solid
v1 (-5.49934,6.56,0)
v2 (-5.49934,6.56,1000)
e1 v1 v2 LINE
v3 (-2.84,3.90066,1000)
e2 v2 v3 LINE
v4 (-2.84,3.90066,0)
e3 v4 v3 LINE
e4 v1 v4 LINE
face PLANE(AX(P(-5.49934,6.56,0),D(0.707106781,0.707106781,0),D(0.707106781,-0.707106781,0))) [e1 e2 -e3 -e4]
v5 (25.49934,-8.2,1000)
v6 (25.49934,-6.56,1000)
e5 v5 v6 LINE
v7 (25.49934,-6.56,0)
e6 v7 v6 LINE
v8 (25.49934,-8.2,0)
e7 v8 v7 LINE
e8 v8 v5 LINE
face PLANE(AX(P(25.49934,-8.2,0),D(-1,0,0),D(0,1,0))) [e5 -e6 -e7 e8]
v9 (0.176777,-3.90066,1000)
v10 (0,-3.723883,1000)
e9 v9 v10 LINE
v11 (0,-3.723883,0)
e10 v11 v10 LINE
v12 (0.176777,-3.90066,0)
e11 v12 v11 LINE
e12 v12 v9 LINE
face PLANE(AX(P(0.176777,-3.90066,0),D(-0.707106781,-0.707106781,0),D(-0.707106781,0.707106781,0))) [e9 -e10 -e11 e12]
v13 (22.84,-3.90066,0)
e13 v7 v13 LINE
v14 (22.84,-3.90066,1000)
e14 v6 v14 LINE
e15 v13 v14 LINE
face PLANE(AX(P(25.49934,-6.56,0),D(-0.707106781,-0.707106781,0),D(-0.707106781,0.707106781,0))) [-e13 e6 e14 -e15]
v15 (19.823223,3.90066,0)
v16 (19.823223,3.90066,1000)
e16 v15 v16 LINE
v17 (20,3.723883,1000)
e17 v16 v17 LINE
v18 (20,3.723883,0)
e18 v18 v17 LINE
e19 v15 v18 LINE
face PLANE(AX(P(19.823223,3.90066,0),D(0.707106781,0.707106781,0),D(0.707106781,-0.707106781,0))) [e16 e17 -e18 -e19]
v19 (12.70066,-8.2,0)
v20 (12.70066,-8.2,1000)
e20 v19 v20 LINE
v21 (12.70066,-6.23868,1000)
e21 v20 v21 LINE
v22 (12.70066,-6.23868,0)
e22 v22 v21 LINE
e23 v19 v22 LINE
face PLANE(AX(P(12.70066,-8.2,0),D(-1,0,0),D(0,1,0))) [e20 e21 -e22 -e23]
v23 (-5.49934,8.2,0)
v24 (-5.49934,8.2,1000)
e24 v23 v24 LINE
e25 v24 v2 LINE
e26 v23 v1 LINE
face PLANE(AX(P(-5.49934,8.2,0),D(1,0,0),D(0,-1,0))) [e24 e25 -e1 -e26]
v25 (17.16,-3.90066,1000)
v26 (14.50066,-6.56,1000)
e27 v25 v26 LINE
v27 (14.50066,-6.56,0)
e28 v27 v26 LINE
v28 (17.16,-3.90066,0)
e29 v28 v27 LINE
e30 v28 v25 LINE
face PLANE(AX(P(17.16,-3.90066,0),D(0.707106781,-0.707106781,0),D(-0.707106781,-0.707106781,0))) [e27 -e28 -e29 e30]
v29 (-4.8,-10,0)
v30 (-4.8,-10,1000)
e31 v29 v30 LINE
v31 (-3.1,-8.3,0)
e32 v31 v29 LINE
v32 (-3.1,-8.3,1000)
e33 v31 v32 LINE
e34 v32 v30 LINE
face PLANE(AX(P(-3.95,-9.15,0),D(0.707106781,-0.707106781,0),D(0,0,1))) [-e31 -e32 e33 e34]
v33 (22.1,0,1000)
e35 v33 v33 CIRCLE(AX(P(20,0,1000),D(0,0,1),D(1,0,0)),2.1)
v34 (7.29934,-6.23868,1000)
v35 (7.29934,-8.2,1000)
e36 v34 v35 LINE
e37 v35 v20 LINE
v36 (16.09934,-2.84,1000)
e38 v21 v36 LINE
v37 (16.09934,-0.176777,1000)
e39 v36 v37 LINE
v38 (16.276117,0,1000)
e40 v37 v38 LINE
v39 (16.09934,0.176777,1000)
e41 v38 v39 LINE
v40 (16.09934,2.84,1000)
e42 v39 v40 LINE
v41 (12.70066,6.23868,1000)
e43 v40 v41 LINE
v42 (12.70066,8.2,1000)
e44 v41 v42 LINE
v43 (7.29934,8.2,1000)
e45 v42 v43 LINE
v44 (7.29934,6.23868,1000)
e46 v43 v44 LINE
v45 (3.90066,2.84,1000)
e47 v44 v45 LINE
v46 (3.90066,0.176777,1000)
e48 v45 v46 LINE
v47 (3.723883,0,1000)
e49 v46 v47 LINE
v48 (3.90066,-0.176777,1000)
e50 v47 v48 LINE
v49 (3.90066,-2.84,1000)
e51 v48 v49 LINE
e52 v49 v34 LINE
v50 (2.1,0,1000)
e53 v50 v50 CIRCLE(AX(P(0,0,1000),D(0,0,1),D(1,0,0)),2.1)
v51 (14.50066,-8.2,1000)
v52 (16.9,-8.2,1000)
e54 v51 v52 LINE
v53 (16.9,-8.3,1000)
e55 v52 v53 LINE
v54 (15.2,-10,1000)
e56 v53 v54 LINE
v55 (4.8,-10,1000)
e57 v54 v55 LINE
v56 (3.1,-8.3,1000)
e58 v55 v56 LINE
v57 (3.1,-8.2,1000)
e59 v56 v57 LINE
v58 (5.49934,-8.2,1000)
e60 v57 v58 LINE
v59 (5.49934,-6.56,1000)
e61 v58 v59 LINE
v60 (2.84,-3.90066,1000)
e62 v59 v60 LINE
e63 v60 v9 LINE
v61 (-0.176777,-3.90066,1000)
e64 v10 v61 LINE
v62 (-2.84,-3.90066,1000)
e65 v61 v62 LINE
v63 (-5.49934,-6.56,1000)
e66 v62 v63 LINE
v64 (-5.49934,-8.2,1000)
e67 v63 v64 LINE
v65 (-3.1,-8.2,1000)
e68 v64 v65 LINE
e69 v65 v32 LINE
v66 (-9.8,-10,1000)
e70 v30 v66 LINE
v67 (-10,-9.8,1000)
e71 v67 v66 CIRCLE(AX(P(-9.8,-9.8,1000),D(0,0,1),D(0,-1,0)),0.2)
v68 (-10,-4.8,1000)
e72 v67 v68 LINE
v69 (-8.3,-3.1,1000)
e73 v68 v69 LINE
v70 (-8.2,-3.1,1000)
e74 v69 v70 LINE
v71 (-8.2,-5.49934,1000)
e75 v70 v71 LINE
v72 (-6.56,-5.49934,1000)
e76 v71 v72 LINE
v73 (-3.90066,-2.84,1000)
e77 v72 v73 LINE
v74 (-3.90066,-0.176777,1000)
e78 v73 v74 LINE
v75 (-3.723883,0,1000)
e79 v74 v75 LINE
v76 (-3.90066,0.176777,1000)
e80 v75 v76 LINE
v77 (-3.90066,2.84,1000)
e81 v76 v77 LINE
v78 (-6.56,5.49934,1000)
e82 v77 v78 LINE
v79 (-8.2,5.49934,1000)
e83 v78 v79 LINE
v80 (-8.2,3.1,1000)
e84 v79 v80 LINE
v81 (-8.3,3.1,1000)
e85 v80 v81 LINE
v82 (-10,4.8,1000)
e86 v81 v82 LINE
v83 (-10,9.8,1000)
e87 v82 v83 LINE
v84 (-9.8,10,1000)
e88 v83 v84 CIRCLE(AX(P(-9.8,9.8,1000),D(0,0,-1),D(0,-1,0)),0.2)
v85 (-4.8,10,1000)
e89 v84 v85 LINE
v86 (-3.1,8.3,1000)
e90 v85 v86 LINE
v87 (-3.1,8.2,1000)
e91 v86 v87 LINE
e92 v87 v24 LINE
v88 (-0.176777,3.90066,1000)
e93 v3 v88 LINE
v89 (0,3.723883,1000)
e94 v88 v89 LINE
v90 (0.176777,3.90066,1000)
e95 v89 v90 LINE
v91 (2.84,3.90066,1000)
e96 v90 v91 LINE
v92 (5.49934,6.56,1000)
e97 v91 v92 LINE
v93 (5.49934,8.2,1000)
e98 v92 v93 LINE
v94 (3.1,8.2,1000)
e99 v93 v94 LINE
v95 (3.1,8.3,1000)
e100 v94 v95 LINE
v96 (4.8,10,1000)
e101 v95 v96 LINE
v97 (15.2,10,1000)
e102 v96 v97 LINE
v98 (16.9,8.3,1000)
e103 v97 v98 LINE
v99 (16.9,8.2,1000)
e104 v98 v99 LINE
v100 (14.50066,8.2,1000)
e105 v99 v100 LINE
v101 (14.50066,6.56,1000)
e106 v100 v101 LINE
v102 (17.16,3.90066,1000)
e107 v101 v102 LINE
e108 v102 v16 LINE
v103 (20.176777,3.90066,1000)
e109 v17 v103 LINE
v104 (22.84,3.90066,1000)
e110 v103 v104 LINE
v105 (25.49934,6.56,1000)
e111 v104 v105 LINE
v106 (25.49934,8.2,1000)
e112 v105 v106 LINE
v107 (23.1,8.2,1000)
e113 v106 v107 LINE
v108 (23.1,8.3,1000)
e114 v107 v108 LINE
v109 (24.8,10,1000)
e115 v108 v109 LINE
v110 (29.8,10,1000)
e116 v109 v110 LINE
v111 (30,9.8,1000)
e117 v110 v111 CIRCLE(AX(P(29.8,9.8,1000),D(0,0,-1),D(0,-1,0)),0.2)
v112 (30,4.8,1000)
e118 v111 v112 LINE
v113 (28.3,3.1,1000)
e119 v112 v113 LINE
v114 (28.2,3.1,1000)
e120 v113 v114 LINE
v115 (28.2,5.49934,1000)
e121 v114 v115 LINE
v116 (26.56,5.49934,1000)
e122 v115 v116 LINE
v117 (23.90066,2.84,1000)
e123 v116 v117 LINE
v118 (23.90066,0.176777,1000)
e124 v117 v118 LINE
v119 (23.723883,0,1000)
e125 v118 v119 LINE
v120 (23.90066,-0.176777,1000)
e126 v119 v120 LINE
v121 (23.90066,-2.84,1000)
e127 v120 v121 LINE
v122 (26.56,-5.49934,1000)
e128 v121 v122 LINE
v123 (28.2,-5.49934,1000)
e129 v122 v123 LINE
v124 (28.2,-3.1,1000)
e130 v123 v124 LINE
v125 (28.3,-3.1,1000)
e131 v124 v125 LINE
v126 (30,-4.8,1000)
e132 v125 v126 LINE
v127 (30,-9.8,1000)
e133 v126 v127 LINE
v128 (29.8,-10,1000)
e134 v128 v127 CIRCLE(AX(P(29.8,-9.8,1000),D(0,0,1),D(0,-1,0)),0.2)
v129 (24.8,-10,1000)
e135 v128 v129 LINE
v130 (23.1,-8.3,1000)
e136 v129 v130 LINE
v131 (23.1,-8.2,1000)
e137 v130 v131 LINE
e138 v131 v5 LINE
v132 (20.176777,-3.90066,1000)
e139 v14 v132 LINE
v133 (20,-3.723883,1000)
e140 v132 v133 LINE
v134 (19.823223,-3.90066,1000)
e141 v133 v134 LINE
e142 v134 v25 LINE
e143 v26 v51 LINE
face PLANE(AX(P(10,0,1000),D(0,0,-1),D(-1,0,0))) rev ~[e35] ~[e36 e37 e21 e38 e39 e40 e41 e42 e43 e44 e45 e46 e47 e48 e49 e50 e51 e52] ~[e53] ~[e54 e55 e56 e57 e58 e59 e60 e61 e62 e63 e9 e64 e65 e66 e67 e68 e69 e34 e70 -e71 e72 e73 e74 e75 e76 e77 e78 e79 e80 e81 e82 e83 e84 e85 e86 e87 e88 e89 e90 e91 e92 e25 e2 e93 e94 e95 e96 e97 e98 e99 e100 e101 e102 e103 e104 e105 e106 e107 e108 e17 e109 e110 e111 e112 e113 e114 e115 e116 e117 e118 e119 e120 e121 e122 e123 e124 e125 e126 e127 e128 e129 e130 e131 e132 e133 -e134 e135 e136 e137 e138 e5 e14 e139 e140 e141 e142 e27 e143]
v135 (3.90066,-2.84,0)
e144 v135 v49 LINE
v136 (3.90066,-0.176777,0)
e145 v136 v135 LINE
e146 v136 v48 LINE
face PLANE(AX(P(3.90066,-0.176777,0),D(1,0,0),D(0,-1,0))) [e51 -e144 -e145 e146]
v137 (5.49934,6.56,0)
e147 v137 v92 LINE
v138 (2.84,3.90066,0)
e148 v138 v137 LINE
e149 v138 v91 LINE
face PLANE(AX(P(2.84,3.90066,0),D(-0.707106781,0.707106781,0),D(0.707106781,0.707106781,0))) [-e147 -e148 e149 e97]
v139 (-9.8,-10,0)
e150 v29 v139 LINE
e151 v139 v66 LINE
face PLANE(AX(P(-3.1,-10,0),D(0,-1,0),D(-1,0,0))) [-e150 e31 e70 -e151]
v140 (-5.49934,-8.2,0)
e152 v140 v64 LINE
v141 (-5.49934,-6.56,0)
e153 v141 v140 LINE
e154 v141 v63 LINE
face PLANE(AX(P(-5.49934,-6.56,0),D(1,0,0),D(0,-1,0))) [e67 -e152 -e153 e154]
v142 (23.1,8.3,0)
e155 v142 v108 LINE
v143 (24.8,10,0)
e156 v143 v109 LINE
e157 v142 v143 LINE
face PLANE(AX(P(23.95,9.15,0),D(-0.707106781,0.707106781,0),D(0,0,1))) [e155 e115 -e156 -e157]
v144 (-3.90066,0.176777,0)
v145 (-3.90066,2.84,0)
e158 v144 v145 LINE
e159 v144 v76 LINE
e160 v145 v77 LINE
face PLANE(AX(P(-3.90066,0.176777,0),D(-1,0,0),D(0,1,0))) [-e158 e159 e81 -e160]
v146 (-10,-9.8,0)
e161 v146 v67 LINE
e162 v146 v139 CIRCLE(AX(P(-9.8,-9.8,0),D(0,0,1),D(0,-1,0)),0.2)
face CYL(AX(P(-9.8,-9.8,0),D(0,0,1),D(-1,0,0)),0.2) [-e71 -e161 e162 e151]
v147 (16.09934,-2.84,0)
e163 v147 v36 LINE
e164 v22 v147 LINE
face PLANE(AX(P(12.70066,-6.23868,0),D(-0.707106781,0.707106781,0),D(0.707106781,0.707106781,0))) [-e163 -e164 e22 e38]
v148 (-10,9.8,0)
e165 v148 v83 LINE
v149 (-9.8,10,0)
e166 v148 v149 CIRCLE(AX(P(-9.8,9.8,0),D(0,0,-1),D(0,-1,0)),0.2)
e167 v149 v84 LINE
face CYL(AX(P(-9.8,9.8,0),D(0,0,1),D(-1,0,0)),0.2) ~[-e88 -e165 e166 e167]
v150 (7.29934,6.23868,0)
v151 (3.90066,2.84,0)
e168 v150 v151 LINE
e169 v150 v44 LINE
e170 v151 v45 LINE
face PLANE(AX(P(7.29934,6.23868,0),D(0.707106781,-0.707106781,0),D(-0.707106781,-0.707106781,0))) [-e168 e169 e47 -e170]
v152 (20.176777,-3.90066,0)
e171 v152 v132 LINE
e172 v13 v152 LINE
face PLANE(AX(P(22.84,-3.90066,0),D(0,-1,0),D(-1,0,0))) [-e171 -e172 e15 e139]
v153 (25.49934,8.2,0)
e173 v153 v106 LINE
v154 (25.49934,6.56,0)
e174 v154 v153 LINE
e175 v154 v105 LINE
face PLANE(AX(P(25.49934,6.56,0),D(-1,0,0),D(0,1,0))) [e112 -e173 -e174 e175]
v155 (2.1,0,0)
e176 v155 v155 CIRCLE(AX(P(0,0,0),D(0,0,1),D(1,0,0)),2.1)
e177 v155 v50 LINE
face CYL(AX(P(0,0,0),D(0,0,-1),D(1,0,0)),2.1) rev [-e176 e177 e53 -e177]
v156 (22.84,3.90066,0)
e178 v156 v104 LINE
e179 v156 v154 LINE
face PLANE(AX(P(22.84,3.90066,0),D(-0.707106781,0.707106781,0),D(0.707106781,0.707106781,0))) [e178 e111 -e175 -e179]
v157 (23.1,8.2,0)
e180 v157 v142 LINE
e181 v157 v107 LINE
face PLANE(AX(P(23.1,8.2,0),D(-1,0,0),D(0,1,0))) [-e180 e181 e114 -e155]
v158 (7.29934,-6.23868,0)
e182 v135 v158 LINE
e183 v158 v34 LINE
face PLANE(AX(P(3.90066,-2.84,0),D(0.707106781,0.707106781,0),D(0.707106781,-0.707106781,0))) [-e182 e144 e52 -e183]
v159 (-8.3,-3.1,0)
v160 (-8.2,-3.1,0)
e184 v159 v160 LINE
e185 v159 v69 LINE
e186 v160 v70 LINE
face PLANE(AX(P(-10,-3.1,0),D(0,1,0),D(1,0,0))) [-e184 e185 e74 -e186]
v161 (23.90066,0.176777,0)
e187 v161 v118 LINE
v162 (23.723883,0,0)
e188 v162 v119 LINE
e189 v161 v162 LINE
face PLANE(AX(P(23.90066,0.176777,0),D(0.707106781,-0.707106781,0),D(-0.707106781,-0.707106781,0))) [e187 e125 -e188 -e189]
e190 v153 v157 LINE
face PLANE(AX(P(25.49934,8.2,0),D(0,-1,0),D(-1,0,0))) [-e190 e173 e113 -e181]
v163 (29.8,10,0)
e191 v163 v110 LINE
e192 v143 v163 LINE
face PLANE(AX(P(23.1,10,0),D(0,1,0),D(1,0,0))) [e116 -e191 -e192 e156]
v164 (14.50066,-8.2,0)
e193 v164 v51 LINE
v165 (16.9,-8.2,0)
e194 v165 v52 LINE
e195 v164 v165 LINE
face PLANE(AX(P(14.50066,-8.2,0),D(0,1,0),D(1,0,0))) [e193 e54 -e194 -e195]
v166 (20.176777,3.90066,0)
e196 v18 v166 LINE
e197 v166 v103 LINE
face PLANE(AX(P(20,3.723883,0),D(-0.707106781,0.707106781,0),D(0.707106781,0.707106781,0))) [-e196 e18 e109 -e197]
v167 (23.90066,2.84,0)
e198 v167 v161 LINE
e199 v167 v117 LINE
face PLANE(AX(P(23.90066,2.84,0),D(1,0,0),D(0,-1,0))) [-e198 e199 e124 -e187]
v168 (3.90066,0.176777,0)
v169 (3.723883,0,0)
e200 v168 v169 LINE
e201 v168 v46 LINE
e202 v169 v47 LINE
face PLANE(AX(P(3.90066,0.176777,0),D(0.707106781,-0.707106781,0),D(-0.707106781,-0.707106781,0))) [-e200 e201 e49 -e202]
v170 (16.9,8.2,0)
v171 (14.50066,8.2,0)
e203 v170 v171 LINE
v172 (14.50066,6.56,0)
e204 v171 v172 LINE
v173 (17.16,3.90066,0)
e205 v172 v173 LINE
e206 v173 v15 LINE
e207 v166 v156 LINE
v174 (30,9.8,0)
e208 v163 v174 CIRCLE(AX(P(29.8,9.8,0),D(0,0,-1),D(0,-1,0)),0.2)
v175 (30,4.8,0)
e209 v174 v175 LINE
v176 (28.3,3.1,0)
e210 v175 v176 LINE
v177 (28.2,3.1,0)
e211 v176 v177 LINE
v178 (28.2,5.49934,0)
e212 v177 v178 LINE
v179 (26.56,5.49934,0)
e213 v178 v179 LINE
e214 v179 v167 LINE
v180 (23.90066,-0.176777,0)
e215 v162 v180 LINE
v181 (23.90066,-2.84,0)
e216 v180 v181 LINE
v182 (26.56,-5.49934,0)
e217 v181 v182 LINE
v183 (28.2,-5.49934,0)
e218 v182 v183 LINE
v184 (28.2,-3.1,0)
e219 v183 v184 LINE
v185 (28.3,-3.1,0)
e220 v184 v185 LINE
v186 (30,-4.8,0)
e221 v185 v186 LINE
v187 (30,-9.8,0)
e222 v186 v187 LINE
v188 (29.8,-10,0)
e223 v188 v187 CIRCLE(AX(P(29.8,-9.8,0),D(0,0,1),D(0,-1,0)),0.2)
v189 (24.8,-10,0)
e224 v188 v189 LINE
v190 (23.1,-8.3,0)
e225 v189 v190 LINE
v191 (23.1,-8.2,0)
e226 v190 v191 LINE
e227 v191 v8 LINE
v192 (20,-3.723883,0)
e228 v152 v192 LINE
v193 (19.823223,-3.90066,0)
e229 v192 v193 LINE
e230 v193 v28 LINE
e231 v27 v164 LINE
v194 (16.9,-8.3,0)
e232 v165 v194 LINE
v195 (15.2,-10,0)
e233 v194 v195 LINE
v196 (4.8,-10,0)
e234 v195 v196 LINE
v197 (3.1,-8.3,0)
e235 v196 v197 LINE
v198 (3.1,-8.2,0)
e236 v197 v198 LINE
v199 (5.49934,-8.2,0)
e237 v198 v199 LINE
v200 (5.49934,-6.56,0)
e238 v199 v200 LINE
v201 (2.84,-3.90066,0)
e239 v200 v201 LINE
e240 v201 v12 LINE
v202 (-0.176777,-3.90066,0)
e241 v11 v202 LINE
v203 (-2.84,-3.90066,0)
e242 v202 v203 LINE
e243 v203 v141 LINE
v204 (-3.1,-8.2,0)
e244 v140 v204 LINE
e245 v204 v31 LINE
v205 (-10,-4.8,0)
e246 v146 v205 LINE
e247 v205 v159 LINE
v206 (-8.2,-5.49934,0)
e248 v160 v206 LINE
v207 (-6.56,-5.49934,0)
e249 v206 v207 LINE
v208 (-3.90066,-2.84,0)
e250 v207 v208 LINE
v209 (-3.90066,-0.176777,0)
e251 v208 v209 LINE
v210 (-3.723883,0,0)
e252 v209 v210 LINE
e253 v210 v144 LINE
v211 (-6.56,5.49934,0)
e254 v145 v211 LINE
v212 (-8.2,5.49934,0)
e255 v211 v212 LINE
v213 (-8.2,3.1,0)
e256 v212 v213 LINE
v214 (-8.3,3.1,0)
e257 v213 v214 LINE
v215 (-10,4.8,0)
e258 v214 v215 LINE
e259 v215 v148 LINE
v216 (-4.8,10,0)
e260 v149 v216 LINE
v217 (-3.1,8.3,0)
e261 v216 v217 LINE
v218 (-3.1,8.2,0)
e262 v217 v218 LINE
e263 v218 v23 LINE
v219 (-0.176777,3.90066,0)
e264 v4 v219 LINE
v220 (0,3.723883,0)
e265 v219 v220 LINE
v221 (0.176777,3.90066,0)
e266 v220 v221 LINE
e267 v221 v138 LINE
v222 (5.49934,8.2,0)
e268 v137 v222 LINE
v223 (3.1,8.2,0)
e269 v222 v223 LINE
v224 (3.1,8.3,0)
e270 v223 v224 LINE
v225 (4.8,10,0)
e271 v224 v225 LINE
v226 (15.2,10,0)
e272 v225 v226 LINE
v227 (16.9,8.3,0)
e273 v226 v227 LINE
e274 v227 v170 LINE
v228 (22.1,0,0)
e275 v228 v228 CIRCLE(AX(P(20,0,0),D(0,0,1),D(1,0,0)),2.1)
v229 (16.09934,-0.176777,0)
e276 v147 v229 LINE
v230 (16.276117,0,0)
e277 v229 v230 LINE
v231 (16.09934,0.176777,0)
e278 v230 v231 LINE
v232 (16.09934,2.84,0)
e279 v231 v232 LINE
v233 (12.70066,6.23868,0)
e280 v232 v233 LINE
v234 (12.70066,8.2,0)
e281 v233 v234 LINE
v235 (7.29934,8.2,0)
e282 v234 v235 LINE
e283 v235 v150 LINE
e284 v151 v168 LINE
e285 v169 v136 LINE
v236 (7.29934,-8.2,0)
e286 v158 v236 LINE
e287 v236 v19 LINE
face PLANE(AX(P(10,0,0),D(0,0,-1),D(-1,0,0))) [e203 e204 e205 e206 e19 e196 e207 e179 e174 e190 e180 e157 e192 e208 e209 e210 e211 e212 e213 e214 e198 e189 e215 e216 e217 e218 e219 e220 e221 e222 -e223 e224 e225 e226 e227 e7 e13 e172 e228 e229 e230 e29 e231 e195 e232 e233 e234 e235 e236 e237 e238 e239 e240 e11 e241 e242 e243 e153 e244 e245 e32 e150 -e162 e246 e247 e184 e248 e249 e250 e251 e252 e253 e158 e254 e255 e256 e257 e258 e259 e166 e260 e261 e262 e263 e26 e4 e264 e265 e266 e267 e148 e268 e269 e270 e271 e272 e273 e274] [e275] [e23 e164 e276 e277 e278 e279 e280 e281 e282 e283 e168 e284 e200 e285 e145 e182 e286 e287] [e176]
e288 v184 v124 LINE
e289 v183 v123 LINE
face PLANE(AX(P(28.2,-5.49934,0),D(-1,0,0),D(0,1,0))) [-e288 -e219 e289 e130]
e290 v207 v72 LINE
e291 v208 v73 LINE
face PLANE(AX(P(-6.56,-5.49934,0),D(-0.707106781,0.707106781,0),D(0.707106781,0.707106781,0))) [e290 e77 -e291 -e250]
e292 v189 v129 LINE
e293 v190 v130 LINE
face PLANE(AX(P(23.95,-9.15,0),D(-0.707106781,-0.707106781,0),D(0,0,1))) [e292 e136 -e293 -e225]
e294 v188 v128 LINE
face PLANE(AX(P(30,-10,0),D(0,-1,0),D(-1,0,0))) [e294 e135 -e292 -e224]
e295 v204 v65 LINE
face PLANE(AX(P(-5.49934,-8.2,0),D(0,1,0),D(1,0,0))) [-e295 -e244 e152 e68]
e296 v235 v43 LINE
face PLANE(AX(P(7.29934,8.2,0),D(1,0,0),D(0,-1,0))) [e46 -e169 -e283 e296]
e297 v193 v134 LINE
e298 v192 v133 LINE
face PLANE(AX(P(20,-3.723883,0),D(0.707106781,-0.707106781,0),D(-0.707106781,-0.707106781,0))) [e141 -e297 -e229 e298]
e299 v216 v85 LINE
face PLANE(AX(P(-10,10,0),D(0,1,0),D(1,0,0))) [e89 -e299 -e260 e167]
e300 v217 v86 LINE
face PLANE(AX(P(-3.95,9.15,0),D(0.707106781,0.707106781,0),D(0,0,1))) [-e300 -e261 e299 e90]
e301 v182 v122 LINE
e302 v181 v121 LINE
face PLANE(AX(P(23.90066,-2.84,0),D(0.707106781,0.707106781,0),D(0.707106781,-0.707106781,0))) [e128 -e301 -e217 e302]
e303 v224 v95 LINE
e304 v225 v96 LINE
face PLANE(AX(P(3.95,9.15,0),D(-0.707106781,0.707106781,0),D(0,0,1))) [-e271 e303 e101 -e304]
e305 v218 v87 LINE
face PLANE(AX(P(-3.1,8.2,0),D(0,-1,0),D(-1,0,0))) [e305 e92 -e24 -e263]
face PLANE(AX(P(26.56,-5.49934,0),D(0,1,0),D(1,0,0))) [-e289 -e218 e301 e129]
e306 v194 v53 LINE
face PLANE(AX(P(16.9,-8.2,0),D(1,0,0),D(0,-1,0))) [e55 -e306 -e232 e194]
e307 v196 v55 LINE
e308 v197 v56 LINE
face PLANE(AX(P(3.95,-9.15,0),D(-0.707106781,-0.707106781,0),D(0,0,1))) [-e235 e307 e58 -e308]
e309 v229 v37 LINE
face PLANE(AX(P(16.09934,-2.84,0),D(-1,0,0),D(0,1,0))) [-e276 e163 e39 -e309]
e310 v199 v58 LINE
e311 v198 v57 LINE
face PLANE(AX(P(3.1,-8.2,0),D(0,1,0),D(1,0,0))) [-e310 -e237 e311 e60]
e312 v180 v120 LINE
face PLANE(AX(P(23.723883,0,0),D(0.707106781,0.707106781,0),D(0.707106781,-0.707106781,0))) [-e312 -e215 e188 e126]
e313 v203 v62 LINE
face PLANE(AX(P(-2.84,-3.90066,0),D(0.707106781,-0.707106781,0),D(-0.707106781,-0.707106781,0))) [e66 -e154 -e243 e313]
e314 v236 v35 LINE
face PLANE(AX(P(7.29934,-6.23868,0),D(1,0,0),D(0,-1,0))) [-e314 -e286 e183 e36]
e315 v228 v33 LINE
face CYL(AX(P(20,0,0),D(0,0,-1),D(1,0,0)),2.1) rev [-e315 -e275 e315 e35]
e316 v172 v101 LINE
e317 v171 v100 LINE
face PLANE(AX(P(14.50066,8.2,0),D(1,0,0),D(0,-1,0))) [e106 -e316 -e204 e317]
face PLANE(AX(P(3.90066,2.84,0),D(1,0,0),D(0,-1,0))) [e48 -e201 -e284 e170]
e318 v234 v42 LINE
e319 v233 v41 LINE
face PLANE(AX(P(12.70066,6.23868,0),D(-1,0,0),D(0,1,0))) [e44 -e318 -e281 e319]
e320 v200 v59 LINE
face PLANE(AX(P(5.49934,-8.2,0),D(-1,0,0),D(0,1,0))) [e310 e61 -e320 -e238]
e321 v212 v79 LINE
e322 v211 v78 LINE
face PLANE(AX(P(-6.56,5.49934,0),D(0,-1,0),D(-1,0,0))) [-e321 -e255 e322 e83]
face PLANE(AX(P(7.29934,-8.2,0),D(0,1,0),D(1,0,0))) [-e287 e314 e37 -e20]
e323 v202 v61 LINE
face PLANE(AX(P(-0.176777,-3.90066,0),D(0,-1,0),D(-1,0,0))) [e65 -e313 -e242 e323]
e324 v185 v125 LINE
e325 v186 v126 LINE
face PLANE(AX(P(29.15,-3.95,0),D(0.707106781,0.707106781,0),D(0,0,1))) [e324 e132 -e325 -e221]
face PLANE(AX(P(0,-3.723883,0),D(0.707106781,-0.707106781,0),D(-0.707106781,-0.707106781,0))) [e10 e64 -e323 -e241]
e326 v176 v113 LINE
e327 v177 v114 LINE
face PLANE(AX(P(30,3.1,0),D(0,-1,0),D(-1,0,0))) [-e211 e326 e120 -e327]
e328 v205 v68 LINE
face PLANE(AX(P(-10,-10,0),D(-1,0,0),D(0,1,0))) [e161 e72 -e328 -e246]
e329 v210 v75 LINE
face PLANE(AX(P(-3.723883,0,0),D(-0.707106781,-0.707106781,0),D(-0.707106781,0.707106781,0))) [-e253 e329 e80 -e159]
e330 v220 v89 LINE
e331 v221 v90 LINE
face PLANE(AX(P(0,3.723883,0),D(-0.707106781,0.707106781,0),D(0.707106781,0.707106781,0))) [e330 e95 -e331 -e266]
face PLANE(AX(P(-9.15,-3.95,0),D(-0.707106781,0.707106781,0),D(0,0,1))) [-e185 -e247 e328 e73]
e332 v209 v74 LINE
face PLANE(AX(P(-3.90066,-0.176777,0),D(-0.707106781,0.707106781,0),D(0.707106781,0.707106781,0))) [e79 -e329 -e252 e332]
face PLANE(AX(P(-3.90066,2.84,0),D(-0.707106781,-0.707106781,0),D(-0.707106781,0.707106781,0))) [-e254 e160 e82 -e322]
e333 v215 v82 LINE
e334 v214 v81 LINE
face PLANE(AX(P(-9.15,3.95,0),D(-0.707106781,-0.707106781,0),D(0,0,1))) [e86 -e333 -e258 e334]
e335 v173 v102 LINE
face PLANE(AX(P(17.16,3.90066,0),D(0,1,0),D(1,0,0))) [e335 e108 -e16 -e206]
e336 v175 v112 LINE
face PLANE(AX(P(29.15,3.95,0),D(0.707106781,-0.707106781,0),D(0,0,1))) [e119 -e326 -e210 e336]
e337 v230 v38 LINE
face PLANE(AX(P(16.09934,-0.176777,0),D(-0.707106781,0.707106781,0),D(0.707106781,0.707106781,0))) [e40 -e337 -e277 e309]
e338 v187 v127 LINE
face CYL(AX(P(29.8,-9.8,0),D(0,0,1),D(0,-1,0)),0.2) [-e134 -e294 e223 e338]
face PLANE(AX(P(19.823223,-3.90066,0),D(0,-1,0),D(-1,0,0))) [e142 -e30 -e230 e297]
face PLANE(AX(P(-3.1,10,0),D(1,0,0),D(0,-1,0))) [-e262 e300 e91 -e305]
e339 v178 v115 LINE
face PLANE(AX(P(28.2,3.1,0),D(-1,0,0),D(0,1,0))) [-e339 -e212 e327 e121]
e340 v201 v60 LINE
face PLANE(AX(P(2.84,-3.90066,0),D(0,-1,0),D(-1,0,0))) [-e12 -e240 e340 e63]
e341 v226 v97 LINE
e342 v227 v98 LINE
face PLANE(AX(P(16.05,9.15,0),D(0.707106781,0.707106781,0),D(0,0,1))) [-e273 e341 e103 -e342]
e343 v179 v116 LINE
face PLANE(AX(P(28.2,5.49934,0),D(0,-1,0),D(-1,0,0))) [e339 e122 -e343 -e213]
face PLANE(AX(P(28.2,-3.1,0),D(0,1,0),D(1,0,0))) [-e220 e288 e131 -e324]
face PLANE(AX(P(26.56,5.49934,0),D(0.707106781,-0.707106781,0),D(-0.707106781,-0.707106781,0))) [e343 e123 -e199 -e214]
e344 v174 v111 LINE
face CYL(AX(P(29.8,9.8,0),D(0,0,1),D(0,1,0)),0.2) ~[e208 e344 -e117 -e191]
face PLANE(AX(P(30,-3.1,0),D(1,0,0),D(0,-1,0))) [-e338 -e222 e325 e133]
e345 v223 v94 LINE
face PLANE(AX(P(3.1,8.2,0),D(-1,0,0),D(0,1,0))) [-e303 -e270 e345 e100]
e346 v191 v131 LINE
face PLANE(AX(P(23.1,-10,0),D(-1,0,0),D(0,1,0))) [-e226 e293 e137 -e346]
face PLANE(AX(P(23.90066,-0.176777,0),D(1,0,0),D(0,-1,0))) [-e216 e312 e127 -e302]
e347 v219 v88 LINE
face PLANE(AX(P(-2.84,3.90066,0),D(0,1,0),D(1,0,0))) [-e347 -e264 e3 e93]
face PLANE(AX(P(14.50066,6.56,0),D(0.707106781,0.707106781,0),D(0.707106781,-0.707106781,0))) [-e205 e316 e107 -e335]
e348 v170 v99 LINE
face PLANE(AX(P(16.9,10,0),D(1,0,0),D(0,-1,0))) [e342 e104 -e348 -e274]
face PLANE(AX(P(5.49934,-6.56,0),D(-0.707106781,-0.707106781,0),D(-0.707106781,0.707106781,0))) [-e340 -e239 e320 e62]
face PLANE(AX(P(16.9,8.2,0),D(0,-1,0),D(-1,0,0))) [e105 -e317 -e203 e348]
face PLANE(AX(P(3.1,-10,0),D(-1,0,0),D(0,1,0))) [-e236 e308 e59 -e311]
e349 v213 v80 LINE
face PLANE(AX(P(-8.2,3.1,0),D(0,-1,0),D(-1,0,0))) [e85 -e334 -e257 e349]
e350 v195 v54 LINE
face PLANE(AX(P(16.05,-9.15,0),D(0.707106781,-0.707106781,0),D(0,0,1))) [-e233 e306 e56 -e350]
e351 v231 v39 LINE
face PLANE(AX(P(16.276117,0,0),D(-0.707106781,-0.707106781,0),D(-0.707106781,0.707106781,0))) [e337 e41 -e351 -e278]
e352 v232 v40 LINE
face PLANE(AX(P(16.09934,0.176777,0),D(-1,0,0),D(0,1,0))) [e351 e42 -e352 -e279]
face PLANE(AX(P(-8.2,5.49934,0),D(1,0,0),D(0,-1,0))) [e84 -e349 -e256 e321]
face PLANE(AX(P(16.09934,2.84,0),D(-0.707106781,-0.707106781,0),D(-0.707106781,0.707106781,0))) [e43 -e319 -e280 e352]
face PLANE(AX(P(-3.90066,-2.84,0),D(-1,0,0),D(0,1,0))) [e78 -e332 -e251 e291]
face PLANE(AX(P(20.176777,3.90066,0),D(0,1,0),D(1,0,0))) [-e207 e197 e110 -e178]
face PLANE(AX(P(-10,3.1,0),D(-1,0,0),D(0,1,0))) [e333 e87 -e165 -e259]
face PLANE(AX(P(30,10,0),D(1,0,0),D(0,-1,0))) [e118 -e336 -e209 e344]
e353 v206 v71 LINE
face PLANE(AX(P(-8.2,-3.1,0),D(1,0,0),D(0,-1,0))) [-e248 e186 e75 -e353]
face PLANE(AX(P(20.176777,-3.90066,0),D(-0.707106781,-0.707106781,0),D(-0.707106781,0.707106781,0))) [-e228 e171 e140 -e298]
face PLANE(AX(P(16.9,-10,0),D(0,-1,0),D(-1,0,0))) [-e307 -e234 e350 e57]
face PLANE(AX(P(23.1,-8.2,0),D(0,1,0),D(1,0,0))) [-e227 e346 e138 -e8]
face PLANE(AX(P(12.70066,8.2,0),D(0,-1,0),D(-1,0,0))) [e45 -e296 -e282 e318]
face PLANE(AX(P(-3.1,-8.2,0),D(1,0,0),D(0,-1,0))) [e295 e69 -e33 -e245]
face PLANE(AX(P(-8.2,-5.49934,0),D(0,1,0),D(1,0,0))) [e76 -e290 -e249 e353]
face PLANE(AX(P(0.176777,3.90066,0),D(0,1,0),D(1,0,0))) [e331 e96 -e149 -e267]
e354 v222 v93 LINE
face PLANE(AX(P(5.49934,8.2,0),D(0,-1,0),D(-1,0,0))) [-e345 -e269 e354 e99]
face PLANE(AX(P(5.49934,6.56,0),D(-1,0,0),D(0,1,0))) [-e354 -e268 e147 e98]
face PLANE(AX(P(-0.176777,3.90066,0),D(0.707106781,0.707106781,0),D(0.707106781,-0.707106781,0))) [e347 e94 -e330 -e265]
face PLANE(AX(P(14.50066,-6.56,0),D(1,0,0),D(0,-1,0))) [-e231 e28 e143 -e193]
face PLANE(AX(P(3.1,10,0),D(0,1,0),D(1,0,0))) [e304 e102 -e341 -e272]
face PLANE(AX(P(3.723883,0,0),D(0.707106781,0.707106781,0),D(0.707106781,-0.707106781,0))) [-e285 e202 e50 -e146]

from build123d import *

# Parameters (mm, degrees)
SKETCH_R         = 2.1
PAD_DEPTH        = 1000
CHAMFER_1_ANGLE  = 45
CHAMFER_1_SIZE   = 1.7
CHAMFER_2_ANGLE  = 45
CHAMFER_2_SIZE   = 1.7
CHAMFER_3_ANGLE  = 45
CHAMFER_3_SIZE   = 1.7
CHAMFER_4_ANGLE  = 45
CHAMFER_4_SIZE   = 1.7
CHAMFER_5_ANGLE  = 45
CHAMFER_5_SIZE   = 1.7
CHAMFER_6_ANGLE  = 45
CHAMFER_6_SIZE   = 1.7
CHAMFER_7_ANGLE  = 45
CHAMFER_7_SIZE   = 1.7
CHAMFER_8_ANGLE  = 45
CHAMFER_8_SIZE   = 1.7
CHAMFER_9_ANGLE  = 45
CHAMFER_9_SIZE   = 1.7
CHAMFER_10_ANGLE = 45
CHAMFER_10_SIZE  = 1.7
CHAMFER_11_ANGLE = 45
CHAMFER_11_SIZE  = 1.7
CHAMFER_12_ANGLE = 45
CHAMFER_12_SIZE  = 1.7
FILLET_R         = 0.2


with BuildPart() as part:
    # Sketch → Pad (new body)
    with BuildSketch(Plane.XY):
        Polygon((0, 3.723883), (0.176777, 3.90066), (2.84, 3.90066), (5.49934, 6.56), (5.49934, 8.2), (3.1, 8.2), (3.1, 10), (16.9, 10), (16.9, 8.2), (14.50066, 8.2), (14.50066, 6.56), (17.16, 3.90066), (19.823223, 3.90066), (20, 3.723883), (20.176777, 3.90066), (22.84, 3.90066), (25.49934, 6.56), (25.49934, 8.2), (23.1, 8.2), (23.1, 10), (30, 10), (30, 3.1), (28.2, 3.1), (28.2, 5.49934), (26.56, 5.49934), (23.90066, 2.84), (23.90066, 0.176777), (23.723883, 0), (23.90066, -0.176777), (23.90066, -2.84), (26.56, -5.49934), (28.2, -5.49934), (28.2, -3.1), (30, -3.1), (30, -10), (23.1, -10), (23.1, -8.2), (25.49934, -8.2), (25.49934, -6.56), (22.84, -3.90066), (20.176777, -3.90066), (20, -3.723883), (19.823223, -3.90066), (17.16, -3.90066), (14.50066, -6.56), (14.50066, -8.2), (16.9, -8.2), (16.9, -10), (3.1, -10), (3.1, -8.2), (5.49934, -8.2), (5.49934, -6.56), (2.84, -3.90066), (0.176777, -3.90066), (0, -3.723883), (-0.176777, -3.90066), (-2.84, -3.90066), (-5.49934, -6.56), (-5.49934, -8.2), (-3.1, -8.2), (-3.1, -10), (-10, -10), (-10, -3.1), (-8.2, -3.1), (-8.2, -5.49934), (-6.56, -5.49934), (-3.90066, -2.84), (-3.90066, -0.176777), (-3.723883, 0), (-3.90066, 0.176777), (-3.90066, 2.84), (-6.56, 5.49934), (-8.2, 5.49934), (-8.2, 3.1), (-10, 3.1), (-10, 10), (-3.1, 10), (-3.1, 8.2), (-5.49934, 8.2), (-5.49934, 6.56), (-2.84, 3.90066), (-0.176777, 3.90066), align=None)
        Circle(SKETCH_R, mode=Mode.SUBTRACT)
        with Locations((20, 0)):
            Circle(SKETCH_R, mode=Mode.SUBTRACT)
        Polygon((7.29934, 6.23868), (3.90066, 2.84), (3.90066, 0.176777), (3.723883, 0), (3.90066, -0.176777), (3.90066, -2.84), (7.29934, -6.23868), (7.29934, -8.2), (12.70066, -8.2), (12.70066, -6.23868), (16.09934, -2.84), (16.09934, -0.176777), (16.276117, 0), (16.09934, 0.176777), (16.09934, 2.84), (12.70066, 6.23868), (12.70066, 8.2), (7.29934, 8.2), align=None, mode=Mode.SUBTRACT)
    extrude(amount=PAD_DEPTH)

    # Chamfer 1
    chamfer_1_edges = [part.edges().sort_by_distance(p)[0] for p in [
        (3.1, -10, 500),
    ]]
    chamfer_1_side = part.faces().sort_by_distance((10, -10, 500))[0]
    chamfer(chamfer_1_edges, length=CHAMFER_1_SIZE, angle=CHAMFER_1_ANGLE, reference=chamfer_1_side)

    # Chamfer 2
    chamfer_2_edges = [part.edges().sort_by_distance(p)[0] for p in [
        (16.9, -10, 500),
    ]]
    chamfer_2_side = part.faces().sort_by_distance((16.9, -9.1, 500))[0]
    chamfer(chamfer_2_edges, length=CHAMFER_2_SIZE, angle=CHAMFER_2_ANGLE, reference=chamfer_2_side)

    # Chamfer 3
    chamfer_3_edges = [part.edges().sort_by_distance(p)[0] for p in [
        (23.1, -10, 500),
    ]]
    chamfer_3_side = part.faces().sort_by_distance((26.55, -10, 500))[0]
    chamfer(chamfer_3_edges, length=CHAMFER_3_SIZE, angle=CHAMFER_3_ANGLE, reference=chamfer_3_side)

    # Chamfer 4
    chamfer_4_edges = [part.edges().sort_by_distance(p)[0] for p in [
        (-3.1, -10, 500),
    ]]
    chamfer_4_side = part.faces().sort_by_distance((-3.1, -9.1, 500))[0]
    chamfer(chamfer_4_edges, length=CHAMFER_4_SIZE, angle=CHAMFER_4_ANGLE, reference=chamfer_4_side)

    # Chamfer 5
    chamfer_5_edges = [part.edges().sort_by_distance(p)[0] for p in [
        (30, -3.1, 500),
    ]]
    chamfer_5_side = part.faces().sort_by_distance((29.1, -3.1, 500))[0]
    chamfer(chamfer_5_edges, length=CHAMFER_5_SIZE, angle=CHAMFER_5_ANGLE, reference=chamfer_5_side)

    # Chamfer 6
    chamfer_6_edges = [part.edges().sort_by_distance(p)[0] for p in [
        (30, 3.1, 500),
    ]]
    chamfer_6_side = part.faces().sort_by_distance((30, 6.55, 500))[0]
    chamfer(chamfer_6_edges, length=CHAMFER_6_SIZE, angle=CHAMFER_6_ANGLE, reference=chamfer_6_side)

    # Chamfer 7
    chamfer_7_edges = [part.edges().sort_by_distance(p)[0] for p in [
        (23.1, 10, 500),
    ]]
    chamfer_7_side = part.faces().sort_by_distance((23.1, 9.1, 500))[0]
    chamfer(chamfer_7_edges, length=CHAMFER_7_SIZE, angle=CHAMFER_7_ANGLE, reference=chamfer_7_side)

    # Chamfer 8
    chamfer_8_edges = [part.edges().sort_by_distance(p)[0] for p in [
        (16.9, 10, 500),
    ]]
    chamfer_8_side = part.faces().sort_by_distance((10, 10, 500))[0]
    chamfer(chamfer_8_edges, length=CHAMFER_8_SIZE, angle=CHAMFER_8_ANGLE, reference=chamfer_8_side)

    # Chamfer 9
    chamfer_9_edges = [part.edges().sort_by_distance(p)[0] for p in [
        (3.1, 10, 500),
    ]]
    chamfer_9_side = part.faces().sort_by_distance((3.1, 9.1, 500))[0]
    chamfer(chamfer_9_edges, length=CHAMFER_9_SIZE, angle=CHAMFER_9_ANGLE, reference=chamfer_9_side)

    # Chamfer 10
    chamfer_10_edges = [part.edges().sort_by_distance(p)[0] for p in [
        (-3.1, 10, 500),
    ]]
    chamfer_10_side = part.faces().sort_by_distance((-6.55, 10, 500))[0]
    chamfer(chamfer_10_edges, length=CHAMFER_10_SIZE, angle=CHAMFER_10_ANGLE, reference=chamfer_10_side)

    # Chamfer 11
    chamfer_11_edges = [part.edges().sort_by_distance(p)[0] for p in [
        (-10, -3.1, 500),
    ]]
    chamfer_11_side = part.faces().sort_by_distance((-10, -6.55, 500))[0]
    chamfer(chamfer_11_edges, length=CHAMFER_11_SIZE, angle=CHAMFER_11_ANGLE, reference=chamfer_11_side)

    # Chamfer 12
    chamfer_12_edges = [part.edges().sort_by_distance(p)[0] for p in [
        (-10, 3.1, 500),
    ]]
    chamfer_12_side = part.faces().sort_by_distance((-9.1, 3.1, 500))[0]
    chamfer(chamfer_12_edges, length=CHAMFER_12_SIZE, angle=CHAMFER_12_ANGLE, reference=chamfer_12_side)

    # Fillet
    fillet_edges = [part.edges().sort_by_distance(p)[0] for p in [
        (-10, -10, 500),
        (-10, 10, 500),
        (30, 10, 500),
        (30, -10, 500),
    ]]
    fillet(fillet_edges, radius=FILLET_R)


solid = part.part
